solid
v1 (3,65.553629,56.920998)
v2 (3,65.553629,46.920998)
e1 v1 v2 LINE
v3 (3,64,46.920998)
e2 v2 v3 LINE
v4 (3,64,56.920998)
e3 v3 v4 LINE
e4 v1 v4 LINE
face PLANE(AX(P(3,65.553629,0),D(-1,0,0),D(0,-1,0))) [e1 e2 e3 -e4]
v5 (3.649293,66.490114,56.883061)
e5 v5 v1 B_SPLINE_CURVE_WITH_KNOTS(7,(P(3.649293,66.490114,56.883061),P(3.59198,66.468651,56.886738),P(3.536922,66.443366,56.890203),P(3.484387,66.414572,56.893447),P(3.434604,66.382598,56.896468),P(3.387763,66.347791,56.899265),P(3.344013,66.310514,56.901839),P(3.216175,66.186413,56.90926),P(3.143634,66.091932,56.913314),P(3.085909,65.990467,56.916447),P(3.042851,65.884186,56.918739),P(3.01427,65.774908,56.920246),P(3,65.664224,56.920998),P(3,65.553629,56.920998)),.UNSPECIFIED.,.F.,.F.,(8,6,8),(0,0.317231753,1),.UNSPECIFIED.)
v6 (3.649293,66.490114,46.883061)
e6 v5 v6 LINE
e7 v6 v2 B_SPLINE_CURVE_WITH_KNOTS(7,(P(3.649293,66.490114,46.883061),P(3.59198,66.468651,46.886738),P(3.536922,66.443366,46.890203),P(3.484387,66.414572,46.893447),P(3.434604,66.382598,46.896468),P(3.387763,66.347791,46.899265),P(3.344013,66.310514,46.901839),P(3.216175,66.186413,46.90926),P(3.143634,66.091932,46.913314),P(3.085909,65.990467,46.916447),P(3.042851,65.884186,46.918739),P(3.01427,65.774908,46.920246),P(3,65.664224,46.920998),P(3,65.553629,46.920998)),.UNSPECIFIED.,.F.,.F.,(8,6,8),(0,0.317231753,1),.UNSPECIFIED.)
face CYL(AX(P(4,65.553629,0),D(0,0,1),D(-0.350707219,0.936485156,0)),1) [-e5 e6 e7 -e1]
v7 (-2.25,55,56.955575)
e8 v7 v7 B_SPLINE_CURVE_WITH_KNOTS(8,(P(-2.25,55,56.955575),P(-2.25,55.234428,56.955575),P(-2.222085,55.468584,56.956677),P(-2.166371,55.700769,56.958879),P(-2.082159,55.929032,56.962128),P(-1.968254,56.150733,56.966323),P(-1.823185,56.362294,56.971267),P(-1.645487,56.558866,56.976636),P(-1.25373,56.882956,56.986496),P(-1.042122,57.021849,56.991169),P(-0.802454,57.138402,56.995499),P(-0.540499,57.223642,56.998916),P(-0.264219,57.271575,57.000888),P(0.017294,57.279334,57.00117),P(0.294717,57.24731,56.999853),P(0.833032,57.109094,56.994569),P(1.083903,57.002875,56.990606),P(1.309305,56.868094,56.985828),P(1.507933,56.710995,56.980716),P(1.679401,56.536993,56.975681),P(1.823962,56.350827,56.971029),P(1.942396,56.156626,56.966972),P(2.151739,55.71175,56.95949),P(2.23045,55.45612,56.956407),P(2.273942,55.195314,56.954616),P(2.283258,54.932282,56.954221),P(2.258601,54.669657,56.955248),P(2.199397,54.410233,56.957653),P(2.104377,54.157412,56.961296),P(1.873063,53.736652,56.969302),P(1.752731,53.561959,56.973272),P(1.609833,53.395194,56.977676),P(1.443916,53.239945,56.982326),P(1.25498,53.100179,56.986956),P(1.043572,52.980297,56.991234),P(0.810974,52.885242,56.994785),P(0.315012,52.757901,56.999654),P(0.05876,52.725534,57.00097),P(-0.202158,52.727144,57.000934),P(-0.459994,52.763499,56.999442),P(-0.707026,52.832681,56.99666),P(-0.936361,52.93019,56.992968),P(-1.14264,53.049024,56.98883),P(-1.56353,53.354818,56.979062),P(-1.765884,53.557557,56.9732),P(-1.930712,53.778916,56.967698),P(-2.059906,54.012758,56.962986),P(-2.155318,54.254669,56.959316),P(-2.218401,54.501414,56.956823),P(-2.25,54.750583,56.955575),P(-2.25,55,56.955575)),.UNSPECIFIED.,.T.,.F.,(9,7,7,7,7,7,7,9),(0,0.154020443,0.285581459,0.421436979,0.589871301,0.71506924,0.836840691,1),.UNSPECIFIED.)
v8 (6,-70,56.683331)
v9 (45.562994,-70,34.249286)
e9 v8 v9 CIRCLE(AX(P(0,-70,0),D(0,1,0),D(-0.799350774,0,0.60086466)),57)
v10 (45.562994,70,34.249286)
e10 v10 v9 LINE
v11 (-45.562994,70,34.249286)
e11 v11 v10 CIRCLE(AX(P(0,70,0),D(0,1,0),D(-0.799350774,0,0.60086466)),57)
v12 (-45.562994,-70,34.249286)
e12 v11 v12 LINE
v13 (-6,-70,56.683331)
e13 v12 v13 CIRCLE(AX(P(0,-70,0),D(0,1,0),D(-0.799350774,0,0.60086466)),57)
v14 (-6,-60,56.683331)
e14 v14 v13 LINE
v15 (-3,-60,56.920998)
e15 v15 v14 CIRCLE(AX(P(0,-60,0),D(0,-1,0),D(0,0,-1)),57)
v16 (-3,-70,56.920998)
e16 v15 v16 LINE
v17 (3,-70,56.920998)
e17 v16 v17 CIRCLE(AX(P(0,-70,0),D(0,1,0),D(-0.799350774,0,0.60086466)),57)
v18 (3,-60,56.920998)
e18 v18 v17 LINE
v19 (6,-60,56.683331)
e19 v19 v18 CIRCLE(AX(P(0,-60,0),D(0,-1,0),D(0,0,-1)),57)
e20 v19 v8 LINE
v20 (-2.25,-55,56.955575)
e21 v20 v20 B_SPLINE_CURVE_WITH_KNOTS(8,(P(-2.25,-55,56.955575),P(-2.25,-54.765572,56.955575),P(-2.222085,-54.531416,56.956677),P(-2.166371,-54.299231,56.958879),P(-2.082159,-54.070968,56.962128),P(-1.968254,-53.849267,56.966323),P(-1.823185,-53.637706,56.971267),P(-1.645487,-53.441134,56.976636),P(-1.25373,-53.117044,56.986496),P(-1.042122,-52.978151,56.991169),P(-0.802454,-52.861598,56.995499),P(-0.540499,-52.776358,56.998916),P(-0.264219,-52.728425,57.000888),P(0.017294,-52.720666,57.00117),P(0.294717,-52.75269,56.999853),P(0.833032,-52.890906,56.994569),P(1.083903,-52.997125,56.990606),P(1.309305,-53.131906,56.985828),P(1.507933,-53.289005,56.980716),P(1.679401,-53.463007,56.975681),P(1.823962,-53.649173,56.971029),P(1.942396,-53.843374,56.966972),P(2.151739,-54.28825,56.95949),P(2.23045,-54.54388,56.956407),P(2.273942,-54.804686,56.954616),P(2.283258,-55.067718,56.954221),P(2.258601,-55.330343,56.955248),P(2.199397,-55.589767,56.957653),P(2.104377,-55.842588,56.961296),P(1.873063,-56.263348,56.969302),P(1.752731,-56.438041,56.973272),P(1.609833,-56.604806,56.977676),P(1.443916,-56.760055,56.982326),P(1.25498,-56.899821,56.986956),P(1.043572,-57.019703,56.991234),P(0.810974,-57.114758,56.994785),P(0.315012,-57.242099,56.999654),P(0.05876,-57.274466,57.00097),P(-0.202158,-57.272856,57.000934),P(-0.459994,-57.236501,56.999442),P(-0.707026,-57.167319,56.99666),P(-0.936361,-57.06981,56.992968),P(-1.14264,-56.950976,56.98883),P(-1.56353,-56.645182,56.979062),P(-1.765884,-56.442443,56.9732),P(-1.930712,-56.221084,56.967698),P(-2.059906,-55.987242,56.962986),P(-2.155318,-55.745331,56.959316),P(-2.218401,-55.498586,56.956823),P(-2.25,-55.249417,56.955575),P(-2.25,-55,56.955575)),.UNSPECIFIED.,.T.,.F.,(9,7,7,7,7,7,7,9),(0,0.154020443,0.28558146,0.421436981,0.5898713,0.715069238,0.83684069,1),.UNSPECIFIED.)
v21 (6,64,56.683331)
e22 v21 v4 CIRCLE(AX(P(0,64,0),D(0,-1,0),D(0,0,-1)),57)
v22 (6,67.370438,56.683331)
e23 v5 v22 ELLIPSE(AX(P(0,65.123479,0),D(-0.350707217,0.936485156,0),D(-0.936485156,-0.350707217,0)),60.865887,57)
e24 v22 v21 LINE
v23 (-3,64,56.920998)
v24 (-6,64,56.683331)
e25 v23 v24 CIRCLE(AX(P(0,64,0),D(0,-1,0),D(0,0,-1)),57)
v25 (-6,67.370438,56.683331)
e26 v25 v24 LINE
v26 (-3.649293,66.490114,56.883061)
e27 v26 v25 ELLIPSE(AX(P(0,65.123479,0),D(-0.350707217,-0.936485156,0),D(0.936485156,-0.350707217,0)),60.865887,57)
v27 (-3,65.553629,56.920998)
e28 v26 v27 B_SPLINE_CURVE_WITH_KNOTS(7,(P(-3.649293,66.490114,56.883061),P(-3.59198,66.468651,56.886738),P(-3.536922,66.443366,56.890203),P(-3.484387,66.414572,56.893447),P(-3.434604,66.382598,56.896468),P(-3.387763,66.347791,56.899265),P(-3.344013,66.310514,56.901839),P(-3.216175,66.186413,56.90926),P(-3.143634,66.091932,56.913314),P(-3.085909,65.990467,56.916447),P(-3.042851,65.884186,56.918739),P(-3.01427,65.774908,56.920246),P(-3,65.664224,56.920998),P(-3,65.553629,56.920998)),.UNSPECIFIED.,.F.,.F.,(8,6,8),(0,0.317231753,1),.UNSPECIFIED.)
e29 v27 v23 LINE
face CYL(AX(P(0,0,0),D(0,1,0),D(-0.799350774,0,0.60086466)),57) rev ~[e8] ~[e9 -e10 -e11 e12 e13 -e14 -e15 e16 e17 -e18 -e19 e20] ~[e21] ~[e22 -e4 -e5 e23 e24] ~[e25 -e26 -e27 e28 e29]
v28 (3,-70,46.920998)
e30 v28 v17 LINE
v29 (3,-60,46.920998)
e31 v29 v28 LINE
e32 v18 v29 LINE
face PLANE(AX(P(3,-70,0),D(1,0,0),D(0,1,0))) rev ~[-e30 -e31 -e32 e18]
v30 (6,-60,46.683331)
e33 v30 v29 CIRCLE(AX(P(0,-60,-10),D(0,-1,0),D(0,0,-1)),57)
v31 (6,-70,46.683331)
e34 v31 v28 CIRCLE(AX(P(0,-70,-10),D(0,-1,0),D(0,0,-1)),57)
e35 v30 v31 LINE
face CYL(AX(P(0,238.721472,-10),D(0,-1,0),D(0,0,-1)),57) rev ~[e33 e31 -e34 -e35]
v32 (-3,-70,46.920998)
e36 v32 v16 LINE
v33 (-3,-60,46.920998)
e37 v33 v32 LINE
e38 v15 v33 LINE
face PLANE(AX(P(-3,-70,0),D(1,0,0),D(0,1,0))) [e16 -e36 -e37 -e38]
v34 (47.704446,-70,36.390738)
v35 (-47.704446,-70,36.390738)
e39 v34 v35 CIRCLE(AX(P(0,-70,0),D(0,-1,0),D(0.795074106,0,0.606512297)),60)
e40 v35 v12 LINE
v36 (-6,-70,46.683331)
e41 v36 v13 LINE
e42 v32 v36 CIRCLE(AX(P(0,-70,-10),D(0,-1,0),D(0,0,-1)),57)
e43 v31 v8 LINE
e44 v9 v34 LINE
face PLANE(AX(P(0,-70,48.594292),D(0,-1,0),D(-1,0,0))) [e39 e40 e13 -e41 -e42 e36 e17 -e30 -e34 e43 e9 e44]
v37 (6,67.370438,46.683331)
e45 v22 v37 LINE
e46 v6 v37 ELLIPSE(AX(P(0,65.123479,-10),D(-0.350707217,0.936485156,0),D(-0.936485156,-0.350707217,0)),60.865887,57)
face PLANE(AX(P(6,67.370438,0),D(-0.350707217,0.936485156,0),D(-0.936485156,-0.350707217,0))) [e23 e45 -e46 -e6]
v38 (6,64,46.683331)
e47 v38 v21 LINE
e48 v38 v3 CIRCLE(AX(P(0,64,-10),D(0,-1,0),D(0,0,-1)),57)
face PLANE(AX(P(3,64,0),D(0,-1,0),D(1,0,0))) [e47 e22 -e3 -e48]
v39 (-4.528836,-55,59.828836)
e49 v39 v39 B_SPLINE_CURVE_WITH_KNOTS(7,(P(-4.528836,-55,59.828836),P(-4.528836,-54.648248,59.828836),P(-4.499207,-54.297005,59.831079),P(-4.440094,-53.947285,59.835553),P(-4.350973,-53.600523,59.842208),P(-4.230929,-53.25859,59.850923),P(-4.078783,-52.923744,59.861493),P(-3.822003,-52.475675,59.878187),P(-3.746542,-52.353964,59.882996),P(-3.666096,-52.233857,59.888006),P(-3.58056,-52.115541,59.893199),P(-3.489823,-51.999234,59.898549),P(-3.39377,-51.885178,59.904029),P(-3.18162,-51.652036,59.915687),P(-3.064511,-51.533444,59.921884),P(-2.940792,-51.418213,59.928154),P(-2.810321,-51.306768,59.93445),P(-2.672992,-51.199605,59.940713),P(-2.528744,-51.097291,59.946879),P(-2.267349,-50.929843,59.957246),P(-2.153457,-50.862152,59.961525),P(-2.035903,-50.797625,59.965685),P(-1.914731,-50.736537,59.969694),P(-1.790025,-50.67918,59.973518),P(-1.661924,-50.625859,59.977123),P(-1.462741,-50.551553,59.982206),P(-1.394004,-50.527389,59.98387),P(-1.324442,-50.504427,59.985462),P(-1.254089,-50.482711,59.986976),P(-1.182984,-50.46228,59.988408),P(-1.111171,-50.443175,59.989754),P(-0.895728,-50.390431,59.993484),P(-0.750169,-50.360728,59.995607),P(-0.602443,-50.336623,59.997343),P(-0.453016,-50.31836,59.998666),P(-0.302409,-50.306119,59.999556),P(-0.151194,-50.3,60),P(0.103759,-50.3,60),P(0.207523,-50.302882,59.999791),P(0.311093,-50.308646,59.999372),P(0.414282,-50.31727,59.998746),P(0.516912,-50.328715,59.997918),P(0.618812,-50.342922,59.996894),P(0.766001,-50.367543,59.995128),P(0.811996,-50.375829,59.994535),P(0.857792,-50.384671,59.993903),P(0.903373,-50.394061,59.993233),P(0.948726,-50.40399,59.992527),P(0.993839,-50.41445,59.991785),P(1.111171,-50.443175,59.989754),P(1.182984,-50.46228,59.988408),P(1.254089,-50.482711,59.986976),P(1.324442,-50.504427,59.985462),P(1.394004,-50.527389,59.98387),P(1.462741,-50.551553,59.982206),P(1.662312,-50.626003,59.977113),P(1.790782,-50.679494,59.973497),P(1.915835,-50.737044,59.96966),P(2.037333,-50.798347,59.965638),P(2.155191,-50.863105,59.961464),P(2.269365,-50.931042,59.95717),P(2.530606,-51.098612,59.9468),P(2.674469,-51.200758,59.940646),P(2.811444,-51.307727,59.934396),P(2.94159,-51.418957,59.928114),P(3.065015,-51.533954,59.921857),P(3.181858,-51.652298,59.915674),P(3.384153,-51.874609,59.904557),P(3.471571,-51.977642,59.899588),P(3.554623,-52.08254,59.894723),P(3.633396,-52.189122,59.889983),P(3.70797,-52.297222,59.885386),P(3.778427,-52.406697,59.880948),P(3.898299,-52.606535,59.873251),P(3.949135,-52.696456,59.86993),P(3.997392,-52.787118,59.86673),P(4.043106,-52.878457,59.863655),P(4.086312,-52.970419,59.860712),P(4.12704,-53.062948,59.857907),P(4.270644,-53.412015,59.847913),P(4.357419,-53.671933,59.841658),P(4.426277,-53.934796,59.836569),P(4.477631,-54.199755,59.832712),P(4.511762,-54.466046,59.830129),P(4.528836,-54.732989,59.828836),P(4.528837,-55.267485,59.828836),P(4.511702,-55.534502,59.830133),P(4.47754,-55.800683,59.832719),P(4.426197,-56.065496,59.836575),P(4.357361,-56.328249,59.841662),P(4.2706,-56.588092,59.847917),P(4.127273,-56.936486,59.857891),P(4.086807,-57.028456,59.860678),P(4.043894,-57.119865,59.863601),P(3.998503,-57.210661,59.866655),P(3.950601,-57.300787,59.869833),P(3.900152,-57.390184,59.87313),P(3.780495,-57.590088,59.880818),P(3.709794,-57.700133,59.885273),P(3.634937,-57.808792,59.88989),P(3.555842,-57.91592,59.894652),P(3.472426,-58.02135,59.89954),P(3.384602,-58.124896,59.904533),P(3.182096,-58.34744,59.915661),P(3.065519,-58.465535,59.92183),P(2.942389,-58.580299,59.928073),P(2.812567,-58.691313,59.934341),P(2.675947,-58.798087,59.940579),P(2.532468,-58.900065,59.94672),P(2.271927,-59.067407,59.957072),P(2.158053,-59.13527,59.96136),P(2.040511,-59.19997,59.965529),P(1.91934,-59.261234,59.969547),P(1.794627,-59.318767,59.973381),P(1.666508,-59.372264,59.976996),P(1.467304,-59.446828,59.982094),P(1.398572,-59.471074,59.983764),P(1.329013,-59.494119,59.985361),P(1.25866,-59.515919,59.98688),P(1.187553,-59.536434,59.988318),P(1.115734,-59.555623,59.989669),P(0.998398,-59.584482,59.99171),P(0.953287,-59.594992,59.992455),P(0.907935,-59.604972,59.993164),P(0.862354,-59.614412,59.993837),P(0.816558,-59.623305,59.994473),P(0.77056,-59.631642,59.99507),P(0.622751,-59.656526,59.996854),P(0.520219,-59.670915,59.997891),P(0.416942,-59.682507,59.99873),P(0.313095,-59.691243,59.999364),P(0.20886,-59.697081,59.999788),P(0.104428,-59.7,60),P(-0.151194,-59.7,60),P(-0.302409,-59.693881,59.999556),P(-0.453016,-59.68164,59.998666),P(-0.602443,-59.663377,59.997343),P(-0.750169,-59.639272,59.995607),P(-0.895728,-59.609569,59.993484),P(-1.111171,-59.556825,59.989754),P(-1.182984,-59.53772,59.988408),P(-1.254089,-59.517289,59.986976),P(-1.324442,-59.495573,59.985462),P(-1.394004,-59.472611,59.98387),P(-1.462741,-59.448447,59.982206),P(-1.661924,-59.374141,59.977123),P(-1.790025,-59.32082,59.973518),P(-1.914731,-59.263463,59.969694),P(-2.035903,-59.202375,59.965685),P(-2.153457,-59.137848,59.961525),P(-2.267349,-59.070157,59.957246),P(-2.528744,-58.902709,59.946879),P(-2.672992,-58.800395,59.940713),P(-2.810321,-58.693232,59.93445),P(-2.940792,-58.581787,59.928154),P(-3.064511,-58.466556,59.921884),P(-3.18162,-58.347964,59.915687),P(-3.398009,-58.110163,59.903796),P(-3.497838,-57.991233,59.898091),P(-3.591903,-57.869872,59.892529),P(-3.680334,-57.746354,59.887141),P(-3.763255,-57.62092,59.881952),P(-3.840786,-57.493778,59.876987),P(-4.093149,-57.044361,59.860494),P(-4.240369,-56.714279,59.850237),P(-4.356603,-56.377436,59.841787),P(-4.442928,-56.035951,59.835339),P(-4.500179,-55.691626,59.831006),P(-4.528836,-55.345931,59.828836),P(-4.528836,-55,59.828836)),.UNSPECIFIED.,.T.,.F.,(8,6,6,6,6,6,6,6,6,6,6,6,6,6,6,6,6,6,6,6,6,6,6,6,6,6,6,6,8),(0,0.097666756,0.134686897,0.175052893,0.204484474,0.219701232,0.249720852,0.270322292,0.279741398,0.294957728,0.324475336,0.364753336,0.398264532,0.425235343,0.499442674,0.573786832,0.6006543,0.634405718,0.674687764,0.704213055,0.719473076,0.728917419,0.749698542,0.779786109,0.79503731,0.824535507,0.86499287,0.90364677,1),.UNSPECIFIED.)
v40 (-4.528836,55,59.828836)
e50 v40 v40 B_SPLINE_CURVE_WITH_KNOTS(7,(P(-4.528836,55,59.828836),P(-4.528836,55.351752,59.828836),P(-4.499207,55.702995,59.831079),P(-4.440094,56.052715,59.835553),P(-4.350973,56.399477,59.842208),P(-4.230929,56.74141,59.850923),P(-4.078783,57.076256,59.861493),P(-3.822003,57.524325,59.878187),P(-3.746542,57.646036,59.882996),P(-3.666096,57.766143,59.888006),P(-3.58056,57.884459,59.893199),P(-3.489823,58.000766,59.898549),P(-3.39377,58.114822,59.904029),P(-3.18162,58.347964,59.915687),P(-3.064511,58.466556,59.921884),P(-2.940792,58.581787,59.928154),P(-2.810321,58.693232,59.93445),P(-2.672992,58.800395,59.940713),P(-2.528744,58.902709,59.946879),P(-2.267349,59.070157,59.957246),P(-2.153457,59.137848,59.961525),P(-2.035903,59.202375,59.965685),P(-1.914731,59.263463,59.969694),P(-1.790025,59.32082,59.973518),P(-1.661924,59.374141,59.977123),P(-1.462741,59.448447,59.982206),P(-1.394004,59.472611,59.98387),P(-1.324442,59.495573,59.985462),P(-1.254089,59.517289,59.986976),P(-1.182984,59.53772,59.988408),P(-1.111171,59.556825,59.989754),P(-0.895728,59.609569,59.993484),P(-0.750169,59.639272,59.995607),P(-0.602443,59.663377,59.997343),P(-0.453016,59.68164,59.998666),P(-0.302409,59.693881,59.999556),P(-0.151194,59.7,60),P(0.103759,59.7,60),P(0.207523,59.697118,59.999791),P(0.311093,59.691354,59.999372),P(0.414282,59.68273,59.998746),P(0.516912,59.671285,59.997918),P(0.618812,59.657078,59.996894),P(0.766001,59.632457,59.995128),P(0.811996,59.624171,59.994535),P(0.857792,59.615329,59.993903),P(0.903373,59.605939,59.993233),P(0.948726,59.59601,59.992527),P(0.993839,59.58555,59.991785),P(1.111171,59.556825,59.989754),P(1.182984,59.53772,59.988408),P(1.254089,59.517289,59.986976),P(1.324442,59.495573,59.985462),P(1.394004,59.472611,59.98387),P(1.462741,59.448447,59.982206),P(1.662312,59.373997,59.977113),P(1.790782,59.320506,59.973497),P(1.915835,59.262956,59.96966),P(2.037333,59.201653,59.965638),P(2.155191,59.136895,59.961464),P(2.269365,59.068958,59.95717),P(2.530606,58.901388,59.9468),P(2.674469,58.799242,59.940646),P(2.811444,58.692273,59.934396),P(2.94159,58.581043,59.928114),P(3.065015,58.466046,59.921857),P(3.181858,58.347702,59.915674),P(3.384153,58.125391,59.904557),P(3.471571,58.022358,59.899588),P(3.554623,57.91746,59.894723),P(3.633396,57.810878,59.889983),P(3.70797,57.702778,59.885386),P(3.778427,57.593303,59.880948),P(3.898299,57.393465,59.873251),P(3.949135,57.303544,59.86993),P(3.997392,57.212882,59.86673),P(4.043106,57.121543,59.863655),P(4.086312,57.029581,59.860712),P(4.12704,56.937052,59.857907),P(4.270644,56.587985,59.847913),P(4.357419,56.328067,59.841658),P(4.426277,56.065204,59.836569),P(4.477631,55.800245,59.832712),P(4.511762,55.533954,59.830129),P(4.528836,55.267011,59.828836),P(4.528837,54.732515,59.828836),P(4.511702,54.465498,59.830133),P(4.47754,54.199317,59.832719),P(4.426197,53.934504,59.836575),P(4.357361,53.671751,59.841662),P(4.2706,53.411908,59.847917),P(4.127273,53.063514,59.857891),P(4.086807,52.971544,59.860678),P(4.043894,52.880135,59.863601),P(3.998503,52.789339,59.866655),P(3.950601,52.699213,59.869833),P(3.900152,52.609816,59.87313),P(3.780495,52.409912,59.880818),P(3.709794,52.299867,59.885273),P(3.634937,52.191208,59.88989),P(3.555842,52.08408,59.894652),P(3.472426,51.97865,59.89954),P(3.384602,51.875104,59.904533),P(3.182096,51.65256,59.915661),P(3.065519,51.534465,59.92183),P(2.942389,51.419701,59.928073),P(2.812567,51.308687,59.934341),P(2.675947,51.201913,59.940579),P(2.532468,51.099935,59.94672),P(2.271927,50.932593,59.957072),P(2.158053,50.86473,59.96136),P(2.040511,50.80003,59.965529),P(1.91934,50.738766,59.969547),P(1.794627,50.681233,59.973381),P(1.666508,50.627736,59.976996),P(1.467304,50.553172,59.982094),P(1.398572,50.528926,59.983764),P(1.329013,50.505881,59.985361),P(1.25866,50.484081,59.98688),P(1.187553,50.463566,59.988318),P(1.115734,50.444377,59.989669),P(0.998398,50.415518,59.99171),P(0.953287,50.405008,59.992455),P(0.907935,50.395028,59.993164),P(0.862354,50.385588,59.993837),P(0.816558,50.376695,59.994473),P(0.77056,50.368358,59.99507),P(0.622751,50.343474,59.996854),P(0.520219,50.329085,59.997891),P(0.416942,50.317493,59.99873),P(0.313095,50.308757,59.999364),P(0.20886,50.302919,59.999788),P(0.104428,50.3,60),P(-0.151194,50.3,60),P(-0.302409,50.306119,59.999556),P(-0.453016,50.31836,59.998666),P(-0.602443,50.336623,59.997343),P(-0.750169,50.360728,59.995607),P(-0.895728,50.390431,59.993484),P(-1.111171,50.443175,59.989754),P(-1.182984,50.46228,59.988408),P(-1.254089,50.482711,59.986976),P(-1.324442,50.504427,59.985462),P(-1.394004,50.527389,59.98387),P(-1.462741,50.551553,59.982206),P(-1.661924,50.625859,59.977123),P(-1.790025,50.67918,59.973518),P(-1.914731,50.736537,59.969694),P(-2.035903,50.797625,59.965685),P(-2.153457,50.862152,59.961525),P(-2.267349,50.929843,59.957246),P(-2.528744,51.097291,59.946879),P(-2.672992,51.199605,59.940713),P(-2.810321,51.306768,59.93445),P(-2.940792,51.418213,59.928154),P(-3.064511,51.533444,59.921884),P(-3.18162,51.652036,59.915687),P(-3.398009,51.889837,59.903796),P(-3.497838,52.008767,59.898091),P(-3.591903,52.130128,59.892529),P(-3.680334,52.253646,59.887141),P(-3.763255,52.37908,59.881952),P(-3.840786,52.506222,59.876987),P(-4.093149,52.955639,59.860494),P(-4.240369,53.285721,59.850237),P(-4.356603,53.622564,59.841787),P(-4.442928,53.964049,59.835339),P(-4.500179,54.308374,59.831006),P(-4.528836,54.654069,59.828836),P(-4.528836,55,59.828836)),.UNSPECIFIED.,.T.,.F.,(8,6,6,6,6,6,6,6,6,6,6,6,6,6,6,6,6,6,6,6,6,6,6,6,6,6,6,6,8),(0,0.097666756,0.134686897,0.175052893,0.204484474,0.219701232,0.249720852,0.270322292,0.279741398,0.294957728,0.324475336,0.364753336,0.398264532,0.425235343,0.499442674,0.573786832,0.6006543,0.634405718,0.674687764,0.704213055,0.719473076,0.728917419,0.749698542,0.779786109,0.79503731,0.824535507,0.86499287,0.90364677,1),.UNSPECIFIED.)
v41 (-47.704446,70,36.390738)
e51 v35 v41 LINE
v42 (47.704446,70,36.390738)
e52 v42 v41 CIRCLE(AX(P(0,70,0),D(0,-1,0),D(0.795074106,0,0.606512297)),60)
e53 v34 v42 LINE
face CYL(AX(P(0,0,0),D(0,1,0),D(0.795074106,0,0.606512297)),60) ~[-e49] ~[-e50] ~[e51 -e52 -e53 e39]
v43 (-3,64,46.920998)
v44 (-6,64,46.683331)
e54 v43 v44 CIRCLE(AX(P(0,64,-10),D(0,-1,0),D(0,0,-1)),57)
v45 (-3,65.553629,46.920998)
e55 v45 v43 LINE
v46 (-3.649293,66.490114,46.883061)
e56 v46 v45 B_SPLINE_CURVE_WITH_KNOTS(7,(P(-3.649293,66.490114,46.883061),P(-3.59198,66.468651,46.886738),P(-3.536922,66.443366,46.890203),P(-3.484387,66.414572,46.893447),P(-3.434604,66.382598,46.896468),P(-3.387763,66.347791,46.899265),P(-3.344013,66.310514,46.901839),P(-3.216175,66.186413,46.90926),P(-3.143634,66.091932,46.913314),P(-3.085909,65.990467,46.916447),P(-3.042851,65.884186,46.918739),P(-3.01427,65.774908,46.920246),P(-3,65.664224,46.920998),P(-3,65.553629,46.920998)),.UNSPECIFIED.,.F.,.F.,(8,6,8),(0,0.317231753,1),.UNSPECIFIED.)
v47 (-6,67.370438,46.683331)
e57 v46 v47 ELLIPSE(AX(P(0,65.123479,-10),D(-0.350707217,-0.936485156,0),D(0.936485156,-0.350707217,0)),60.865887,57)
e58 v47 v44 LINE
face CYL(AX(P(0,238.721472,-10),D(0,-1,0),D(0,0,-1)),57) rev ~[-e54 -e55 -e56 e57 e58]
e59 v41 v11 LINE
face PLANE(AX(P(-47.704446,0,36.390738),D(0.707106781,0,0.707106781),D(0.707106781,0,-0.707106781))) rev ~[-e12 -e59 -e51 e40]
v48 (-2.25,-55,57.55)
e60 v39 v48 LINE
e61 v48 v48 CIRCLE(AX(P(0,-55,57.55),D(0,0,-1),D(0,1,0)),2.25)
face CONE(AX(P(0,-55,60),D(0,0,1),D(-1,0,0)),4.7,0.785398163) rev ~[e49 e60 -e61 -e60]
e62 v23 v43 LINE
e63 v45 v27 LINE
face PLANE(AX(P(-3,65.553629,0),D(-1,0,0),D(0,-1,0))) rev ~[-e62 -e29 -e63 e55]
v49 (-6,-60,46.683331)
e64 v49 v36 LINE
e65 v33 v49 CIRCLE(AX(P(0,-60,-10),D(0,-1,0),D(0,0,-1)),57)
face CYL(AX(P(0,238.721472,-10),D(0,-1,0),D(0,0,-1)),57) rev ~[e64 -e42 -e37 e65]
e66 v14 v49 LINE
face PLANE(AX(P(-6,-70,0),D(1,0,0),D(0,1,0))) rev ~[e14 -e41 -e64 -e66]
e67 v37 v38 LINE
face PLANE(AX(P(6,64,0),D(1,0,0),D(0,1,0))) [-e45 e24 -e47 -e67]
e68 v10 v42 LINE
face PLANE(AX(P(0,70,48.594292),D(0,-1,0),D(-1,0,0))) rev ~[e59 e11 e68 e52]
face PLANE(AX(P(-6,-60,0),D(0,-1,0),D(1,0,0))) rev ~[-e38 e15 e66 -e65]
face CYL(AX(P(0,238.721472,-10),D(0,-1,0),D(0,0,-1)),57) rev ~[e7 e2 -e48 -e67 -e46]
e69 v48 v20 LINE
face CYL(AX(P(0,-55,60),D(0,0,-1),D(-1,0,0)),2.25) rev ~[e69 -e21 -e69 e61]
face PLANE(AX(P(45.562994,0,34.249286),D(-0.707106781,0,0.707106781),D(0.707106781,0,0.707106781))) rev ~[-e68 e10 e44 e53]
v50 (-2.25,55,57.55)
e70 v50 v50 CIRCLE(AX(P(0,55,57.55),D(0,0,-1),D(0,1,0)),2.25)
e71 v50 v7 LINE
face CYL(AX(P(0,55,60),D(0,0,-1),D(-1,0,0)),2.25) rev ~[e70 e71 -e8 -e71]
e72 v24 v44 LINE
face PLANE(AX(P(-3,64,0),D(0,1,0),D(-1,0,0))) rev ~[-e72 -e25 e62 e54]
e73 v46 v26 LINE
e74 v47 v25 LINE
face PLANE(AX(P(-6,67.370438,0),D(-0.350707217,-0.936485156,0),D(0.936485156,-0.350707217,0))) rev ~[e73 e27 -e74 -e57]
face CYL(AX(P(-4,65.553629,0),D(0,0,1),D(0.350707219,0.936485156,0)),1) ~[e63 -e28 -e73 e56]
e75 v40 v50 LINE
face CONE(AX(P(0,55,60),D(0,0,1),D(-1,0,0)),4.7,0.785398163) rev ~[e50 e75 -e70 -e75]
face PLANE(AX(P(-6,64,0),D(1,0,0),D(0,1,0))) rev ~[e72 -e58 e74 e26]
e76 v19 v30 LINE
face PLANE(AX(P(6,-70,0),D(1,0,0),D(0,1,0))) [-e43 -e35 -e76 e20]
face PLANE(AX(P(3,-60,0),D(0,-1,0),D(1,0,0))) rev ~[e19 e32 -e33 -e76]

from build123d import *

# Parameters (mm, degrees)
BOSS_EXTRUDE1_DEPTH                                 = 70
BOSS_EXTRUDE2_REACH                                 = 115.806
BOSS_EXTRUDE2_START_RADIUS                          = 57
BOSS_EXTRUDE2_END_RADIUS                            = 57
SKETCH7_W                                           = 3
SKETCH7_H                                           = 10
CSK_FOR_M4_COUNTERSUNK_FLAT_HEAD_SCREW2_D           = 4.5
CSK_FOR_M4_COUNTERSUNK_FLAT_HEAD_SCREW2_DEPTH       = 11.5
CSK_FOR_M4_COUNTERSUNK_FLAT_HEAD_SCREW2_CSINK_D     = 9.4
CSK_FOR_M4_COUNTERSUNK_FLAT_HEAD_SCREW2_CSINK_ANGLE = 90
CSK_FOR_M4_COUNTERSUNK_FLAT_HEAD_SCREW2_TIP         = 1.351936393


with BuildPart() as part:
    # Sketch2 → Boss-Extrude1 (new, symmetric)
    with BuildSketch(Plane(origin=(0, 0, 0), x_dir=(1, 0, 0), z_dir=(0, 1, 0))):
        with BuildLine():
            Line((-47.704446333, -36.390737834), (-45.562994128, -34.249285629))
            ThreePointArc((-45.562994128, -34.249285629), (0, -57), (45.562994128, -34.249285629))
            Line((45.562994128, -34.249285629), (47.704446333, -36.390737834))
            ThreePointArc((47.704446333, -36.390737834), (0, -60), (-47.704446333, -36.390737834))
        make_face()
    extrude(amount=BOSS_EXTRUDE1_DEPTH, both=True)

    # Boss-Extrude2: from a cylinder face, 115.806 long prism both ways, kept between that surface and its translate by the depth
    boss_extrude2_start = Plane(origin=(0, 0.207736, 0), z_dir=(0, -1, 0)) * Cylinder(BOSS_EXTRUDE2_START_RADIUS, 477.027472, mode=Mode.PRIVATE)
    boss_extrude2_end = Plane(origin=(0, 0.207736, -10), z_dir=(0, -1, 0)) * Cylinder(BOSS_EXTRUDE2_END_RADIUS, 477.027472, mode=Mode.PRIVATE)
    # Sketch7 → Boss-Extrude2 (add, from a surface)
    with BuildSketch(Plane.XY, mode=Mode.PRIVATE) as boss_extrude2_sk1:
        with Locations((4.5, -65)):
            Rectangle(SKETCH7_W, SKETCH7_H)
    boss_extrude2_tool1 = extrude(boss_extrude2_sk1.sketch, amount=BOSS_EXTRUDE2_REACH, both=True, mode=Mode.PRIVATE)
    add(((boss_extrude2_tool1 & boss_extrude2_start) - boss_extrude2_end).solids().sort_by_distance((4.5, -65, 51.802164))[0])
    # Sketch7 → Boss-Extrude2 (add, from a surface)
    with BuildSketch(Plane.XY, mode=Mode.PRIVATE) as boss_extrude2_sk2:
        with BuildLine():
            Line((3, 65.553629026), (3, 64))
            Line((3, 64), (6, 64))
            Line((6, 64), (6, 67.370437785))
            Line((6, 67.370437785), (3.649292783, 66.490114182))
            ThreePointArc((3.649292783, 66.490114182), (3.178200993, 66.123406518), (3, 65.553629026))
        make_face()
    boss_extrude2_tool2 = extrude(boss_extrude2_sk2.sketch, amount=BOSS_EXTRUDE2_REACH, both=True, mode=Mode.PRIVATE)
    add(((boss_extrude2_tool2 & boss_extrude2_start) - boss_extrude2_end).solids().sort_by_distance((4.5, -65, 51.802164))[0])
    # Sketch7 → Boss-Extrude2 (add, from a surface)
    with BuildSketch(Plane.XY, mode=Mode.PRIVATE) as boss_extrude2_sk3:
        with BuildLine():
            Line((-3, 65.553629026), (-3, 64))
            Line((-3, 64), (-6, 64))
            Line((-6, 64), (-6, 67.370437785))
            Line((-6, 67.370437785), (-3.649292783, 66.490114182))
            ThreePointArc((-3.649292783, 66.490114182), (-3.178200993, 66.123406518), (-3, 65.553629026))
        make_face()
    boss_extrude2_tool3 = extrude(boss_extrude2_sk3.sketch, amount=BOSS_EXTRUDE2_REACH, both=True, mode=Mode.PRIVATE)
    add(((boss_extrude2_tool3 & boss_extrude2_start) - boss_extrude2_end).solids().sort_by_distance((4.5, -65, 51.802164))[0])
    # Sketch7 → Boss-Extrude2 (add, from a surface)
    with BuildSketch(Plane.XY, mode=Mode.PRIVATE) as boss_extrude2_sk4:
        with Locations((-4.5, -65)):
            Rectangle(SKETCH7_W, SKETCH7_H)
    boss_extrude2_tool4 = extrude(boss_extrude2_sk4.sketch, amount=BOSS_EXTRUDE2_REACH, both=True, mode=Mode.PRIVATE)
    add(((boss_extrude2_tool4 & boss_extrude2_start) - boss_extrude2_end).solids().sort_by_distance((4.5, -65, 51.802164))[0])

    # CSK for M4 Countersunk Flat Head Screw2
    with Locations(Plane(origin=(0, 55, 60), x_dir=(1, 0, 0), z_dir=(0, 0, 1))):
        with Locations((0, 0), (0, -110)):
            CounterSinkHole(CSK_FOR_M4_COUNTERSUNK_FLAT_HEAD_SCREW2_D / 2, CSK_FOR_M4_COUNTERSUNK_FLAT_HEAD_SCREW2_CSINK_D / 2, depth=CSK_FOR_M4_COUNTERSUNK_FLAT_HEAD_SCREW2_DEPTH, counter_sink_angle=CSK_FOR_M4_COUNTERSUNK_FLAT_HEAD_SCREW2_CSINK_ANGLE)
            with Locations((0, 0, -(CSK_FOR_M4_COUNTERSUNK_FLAT_HEAD_SCREW2_DEPTH + CSK_FOR_M4_COUNTERSUNK_FLAT_HEAD_SCREW2_TIP / 2))):  # 118° drill point
                Cone(0, CSK_FOR_M4_COUNTERSUNK_FLAT_HEAD_SCREW2_D / 2, CSK_FOR_M4_COUNTERSUNK_FLAT_HEAD_SCREW2_TIP, mode=Mode.SUBTRACT)


solid = part.part
